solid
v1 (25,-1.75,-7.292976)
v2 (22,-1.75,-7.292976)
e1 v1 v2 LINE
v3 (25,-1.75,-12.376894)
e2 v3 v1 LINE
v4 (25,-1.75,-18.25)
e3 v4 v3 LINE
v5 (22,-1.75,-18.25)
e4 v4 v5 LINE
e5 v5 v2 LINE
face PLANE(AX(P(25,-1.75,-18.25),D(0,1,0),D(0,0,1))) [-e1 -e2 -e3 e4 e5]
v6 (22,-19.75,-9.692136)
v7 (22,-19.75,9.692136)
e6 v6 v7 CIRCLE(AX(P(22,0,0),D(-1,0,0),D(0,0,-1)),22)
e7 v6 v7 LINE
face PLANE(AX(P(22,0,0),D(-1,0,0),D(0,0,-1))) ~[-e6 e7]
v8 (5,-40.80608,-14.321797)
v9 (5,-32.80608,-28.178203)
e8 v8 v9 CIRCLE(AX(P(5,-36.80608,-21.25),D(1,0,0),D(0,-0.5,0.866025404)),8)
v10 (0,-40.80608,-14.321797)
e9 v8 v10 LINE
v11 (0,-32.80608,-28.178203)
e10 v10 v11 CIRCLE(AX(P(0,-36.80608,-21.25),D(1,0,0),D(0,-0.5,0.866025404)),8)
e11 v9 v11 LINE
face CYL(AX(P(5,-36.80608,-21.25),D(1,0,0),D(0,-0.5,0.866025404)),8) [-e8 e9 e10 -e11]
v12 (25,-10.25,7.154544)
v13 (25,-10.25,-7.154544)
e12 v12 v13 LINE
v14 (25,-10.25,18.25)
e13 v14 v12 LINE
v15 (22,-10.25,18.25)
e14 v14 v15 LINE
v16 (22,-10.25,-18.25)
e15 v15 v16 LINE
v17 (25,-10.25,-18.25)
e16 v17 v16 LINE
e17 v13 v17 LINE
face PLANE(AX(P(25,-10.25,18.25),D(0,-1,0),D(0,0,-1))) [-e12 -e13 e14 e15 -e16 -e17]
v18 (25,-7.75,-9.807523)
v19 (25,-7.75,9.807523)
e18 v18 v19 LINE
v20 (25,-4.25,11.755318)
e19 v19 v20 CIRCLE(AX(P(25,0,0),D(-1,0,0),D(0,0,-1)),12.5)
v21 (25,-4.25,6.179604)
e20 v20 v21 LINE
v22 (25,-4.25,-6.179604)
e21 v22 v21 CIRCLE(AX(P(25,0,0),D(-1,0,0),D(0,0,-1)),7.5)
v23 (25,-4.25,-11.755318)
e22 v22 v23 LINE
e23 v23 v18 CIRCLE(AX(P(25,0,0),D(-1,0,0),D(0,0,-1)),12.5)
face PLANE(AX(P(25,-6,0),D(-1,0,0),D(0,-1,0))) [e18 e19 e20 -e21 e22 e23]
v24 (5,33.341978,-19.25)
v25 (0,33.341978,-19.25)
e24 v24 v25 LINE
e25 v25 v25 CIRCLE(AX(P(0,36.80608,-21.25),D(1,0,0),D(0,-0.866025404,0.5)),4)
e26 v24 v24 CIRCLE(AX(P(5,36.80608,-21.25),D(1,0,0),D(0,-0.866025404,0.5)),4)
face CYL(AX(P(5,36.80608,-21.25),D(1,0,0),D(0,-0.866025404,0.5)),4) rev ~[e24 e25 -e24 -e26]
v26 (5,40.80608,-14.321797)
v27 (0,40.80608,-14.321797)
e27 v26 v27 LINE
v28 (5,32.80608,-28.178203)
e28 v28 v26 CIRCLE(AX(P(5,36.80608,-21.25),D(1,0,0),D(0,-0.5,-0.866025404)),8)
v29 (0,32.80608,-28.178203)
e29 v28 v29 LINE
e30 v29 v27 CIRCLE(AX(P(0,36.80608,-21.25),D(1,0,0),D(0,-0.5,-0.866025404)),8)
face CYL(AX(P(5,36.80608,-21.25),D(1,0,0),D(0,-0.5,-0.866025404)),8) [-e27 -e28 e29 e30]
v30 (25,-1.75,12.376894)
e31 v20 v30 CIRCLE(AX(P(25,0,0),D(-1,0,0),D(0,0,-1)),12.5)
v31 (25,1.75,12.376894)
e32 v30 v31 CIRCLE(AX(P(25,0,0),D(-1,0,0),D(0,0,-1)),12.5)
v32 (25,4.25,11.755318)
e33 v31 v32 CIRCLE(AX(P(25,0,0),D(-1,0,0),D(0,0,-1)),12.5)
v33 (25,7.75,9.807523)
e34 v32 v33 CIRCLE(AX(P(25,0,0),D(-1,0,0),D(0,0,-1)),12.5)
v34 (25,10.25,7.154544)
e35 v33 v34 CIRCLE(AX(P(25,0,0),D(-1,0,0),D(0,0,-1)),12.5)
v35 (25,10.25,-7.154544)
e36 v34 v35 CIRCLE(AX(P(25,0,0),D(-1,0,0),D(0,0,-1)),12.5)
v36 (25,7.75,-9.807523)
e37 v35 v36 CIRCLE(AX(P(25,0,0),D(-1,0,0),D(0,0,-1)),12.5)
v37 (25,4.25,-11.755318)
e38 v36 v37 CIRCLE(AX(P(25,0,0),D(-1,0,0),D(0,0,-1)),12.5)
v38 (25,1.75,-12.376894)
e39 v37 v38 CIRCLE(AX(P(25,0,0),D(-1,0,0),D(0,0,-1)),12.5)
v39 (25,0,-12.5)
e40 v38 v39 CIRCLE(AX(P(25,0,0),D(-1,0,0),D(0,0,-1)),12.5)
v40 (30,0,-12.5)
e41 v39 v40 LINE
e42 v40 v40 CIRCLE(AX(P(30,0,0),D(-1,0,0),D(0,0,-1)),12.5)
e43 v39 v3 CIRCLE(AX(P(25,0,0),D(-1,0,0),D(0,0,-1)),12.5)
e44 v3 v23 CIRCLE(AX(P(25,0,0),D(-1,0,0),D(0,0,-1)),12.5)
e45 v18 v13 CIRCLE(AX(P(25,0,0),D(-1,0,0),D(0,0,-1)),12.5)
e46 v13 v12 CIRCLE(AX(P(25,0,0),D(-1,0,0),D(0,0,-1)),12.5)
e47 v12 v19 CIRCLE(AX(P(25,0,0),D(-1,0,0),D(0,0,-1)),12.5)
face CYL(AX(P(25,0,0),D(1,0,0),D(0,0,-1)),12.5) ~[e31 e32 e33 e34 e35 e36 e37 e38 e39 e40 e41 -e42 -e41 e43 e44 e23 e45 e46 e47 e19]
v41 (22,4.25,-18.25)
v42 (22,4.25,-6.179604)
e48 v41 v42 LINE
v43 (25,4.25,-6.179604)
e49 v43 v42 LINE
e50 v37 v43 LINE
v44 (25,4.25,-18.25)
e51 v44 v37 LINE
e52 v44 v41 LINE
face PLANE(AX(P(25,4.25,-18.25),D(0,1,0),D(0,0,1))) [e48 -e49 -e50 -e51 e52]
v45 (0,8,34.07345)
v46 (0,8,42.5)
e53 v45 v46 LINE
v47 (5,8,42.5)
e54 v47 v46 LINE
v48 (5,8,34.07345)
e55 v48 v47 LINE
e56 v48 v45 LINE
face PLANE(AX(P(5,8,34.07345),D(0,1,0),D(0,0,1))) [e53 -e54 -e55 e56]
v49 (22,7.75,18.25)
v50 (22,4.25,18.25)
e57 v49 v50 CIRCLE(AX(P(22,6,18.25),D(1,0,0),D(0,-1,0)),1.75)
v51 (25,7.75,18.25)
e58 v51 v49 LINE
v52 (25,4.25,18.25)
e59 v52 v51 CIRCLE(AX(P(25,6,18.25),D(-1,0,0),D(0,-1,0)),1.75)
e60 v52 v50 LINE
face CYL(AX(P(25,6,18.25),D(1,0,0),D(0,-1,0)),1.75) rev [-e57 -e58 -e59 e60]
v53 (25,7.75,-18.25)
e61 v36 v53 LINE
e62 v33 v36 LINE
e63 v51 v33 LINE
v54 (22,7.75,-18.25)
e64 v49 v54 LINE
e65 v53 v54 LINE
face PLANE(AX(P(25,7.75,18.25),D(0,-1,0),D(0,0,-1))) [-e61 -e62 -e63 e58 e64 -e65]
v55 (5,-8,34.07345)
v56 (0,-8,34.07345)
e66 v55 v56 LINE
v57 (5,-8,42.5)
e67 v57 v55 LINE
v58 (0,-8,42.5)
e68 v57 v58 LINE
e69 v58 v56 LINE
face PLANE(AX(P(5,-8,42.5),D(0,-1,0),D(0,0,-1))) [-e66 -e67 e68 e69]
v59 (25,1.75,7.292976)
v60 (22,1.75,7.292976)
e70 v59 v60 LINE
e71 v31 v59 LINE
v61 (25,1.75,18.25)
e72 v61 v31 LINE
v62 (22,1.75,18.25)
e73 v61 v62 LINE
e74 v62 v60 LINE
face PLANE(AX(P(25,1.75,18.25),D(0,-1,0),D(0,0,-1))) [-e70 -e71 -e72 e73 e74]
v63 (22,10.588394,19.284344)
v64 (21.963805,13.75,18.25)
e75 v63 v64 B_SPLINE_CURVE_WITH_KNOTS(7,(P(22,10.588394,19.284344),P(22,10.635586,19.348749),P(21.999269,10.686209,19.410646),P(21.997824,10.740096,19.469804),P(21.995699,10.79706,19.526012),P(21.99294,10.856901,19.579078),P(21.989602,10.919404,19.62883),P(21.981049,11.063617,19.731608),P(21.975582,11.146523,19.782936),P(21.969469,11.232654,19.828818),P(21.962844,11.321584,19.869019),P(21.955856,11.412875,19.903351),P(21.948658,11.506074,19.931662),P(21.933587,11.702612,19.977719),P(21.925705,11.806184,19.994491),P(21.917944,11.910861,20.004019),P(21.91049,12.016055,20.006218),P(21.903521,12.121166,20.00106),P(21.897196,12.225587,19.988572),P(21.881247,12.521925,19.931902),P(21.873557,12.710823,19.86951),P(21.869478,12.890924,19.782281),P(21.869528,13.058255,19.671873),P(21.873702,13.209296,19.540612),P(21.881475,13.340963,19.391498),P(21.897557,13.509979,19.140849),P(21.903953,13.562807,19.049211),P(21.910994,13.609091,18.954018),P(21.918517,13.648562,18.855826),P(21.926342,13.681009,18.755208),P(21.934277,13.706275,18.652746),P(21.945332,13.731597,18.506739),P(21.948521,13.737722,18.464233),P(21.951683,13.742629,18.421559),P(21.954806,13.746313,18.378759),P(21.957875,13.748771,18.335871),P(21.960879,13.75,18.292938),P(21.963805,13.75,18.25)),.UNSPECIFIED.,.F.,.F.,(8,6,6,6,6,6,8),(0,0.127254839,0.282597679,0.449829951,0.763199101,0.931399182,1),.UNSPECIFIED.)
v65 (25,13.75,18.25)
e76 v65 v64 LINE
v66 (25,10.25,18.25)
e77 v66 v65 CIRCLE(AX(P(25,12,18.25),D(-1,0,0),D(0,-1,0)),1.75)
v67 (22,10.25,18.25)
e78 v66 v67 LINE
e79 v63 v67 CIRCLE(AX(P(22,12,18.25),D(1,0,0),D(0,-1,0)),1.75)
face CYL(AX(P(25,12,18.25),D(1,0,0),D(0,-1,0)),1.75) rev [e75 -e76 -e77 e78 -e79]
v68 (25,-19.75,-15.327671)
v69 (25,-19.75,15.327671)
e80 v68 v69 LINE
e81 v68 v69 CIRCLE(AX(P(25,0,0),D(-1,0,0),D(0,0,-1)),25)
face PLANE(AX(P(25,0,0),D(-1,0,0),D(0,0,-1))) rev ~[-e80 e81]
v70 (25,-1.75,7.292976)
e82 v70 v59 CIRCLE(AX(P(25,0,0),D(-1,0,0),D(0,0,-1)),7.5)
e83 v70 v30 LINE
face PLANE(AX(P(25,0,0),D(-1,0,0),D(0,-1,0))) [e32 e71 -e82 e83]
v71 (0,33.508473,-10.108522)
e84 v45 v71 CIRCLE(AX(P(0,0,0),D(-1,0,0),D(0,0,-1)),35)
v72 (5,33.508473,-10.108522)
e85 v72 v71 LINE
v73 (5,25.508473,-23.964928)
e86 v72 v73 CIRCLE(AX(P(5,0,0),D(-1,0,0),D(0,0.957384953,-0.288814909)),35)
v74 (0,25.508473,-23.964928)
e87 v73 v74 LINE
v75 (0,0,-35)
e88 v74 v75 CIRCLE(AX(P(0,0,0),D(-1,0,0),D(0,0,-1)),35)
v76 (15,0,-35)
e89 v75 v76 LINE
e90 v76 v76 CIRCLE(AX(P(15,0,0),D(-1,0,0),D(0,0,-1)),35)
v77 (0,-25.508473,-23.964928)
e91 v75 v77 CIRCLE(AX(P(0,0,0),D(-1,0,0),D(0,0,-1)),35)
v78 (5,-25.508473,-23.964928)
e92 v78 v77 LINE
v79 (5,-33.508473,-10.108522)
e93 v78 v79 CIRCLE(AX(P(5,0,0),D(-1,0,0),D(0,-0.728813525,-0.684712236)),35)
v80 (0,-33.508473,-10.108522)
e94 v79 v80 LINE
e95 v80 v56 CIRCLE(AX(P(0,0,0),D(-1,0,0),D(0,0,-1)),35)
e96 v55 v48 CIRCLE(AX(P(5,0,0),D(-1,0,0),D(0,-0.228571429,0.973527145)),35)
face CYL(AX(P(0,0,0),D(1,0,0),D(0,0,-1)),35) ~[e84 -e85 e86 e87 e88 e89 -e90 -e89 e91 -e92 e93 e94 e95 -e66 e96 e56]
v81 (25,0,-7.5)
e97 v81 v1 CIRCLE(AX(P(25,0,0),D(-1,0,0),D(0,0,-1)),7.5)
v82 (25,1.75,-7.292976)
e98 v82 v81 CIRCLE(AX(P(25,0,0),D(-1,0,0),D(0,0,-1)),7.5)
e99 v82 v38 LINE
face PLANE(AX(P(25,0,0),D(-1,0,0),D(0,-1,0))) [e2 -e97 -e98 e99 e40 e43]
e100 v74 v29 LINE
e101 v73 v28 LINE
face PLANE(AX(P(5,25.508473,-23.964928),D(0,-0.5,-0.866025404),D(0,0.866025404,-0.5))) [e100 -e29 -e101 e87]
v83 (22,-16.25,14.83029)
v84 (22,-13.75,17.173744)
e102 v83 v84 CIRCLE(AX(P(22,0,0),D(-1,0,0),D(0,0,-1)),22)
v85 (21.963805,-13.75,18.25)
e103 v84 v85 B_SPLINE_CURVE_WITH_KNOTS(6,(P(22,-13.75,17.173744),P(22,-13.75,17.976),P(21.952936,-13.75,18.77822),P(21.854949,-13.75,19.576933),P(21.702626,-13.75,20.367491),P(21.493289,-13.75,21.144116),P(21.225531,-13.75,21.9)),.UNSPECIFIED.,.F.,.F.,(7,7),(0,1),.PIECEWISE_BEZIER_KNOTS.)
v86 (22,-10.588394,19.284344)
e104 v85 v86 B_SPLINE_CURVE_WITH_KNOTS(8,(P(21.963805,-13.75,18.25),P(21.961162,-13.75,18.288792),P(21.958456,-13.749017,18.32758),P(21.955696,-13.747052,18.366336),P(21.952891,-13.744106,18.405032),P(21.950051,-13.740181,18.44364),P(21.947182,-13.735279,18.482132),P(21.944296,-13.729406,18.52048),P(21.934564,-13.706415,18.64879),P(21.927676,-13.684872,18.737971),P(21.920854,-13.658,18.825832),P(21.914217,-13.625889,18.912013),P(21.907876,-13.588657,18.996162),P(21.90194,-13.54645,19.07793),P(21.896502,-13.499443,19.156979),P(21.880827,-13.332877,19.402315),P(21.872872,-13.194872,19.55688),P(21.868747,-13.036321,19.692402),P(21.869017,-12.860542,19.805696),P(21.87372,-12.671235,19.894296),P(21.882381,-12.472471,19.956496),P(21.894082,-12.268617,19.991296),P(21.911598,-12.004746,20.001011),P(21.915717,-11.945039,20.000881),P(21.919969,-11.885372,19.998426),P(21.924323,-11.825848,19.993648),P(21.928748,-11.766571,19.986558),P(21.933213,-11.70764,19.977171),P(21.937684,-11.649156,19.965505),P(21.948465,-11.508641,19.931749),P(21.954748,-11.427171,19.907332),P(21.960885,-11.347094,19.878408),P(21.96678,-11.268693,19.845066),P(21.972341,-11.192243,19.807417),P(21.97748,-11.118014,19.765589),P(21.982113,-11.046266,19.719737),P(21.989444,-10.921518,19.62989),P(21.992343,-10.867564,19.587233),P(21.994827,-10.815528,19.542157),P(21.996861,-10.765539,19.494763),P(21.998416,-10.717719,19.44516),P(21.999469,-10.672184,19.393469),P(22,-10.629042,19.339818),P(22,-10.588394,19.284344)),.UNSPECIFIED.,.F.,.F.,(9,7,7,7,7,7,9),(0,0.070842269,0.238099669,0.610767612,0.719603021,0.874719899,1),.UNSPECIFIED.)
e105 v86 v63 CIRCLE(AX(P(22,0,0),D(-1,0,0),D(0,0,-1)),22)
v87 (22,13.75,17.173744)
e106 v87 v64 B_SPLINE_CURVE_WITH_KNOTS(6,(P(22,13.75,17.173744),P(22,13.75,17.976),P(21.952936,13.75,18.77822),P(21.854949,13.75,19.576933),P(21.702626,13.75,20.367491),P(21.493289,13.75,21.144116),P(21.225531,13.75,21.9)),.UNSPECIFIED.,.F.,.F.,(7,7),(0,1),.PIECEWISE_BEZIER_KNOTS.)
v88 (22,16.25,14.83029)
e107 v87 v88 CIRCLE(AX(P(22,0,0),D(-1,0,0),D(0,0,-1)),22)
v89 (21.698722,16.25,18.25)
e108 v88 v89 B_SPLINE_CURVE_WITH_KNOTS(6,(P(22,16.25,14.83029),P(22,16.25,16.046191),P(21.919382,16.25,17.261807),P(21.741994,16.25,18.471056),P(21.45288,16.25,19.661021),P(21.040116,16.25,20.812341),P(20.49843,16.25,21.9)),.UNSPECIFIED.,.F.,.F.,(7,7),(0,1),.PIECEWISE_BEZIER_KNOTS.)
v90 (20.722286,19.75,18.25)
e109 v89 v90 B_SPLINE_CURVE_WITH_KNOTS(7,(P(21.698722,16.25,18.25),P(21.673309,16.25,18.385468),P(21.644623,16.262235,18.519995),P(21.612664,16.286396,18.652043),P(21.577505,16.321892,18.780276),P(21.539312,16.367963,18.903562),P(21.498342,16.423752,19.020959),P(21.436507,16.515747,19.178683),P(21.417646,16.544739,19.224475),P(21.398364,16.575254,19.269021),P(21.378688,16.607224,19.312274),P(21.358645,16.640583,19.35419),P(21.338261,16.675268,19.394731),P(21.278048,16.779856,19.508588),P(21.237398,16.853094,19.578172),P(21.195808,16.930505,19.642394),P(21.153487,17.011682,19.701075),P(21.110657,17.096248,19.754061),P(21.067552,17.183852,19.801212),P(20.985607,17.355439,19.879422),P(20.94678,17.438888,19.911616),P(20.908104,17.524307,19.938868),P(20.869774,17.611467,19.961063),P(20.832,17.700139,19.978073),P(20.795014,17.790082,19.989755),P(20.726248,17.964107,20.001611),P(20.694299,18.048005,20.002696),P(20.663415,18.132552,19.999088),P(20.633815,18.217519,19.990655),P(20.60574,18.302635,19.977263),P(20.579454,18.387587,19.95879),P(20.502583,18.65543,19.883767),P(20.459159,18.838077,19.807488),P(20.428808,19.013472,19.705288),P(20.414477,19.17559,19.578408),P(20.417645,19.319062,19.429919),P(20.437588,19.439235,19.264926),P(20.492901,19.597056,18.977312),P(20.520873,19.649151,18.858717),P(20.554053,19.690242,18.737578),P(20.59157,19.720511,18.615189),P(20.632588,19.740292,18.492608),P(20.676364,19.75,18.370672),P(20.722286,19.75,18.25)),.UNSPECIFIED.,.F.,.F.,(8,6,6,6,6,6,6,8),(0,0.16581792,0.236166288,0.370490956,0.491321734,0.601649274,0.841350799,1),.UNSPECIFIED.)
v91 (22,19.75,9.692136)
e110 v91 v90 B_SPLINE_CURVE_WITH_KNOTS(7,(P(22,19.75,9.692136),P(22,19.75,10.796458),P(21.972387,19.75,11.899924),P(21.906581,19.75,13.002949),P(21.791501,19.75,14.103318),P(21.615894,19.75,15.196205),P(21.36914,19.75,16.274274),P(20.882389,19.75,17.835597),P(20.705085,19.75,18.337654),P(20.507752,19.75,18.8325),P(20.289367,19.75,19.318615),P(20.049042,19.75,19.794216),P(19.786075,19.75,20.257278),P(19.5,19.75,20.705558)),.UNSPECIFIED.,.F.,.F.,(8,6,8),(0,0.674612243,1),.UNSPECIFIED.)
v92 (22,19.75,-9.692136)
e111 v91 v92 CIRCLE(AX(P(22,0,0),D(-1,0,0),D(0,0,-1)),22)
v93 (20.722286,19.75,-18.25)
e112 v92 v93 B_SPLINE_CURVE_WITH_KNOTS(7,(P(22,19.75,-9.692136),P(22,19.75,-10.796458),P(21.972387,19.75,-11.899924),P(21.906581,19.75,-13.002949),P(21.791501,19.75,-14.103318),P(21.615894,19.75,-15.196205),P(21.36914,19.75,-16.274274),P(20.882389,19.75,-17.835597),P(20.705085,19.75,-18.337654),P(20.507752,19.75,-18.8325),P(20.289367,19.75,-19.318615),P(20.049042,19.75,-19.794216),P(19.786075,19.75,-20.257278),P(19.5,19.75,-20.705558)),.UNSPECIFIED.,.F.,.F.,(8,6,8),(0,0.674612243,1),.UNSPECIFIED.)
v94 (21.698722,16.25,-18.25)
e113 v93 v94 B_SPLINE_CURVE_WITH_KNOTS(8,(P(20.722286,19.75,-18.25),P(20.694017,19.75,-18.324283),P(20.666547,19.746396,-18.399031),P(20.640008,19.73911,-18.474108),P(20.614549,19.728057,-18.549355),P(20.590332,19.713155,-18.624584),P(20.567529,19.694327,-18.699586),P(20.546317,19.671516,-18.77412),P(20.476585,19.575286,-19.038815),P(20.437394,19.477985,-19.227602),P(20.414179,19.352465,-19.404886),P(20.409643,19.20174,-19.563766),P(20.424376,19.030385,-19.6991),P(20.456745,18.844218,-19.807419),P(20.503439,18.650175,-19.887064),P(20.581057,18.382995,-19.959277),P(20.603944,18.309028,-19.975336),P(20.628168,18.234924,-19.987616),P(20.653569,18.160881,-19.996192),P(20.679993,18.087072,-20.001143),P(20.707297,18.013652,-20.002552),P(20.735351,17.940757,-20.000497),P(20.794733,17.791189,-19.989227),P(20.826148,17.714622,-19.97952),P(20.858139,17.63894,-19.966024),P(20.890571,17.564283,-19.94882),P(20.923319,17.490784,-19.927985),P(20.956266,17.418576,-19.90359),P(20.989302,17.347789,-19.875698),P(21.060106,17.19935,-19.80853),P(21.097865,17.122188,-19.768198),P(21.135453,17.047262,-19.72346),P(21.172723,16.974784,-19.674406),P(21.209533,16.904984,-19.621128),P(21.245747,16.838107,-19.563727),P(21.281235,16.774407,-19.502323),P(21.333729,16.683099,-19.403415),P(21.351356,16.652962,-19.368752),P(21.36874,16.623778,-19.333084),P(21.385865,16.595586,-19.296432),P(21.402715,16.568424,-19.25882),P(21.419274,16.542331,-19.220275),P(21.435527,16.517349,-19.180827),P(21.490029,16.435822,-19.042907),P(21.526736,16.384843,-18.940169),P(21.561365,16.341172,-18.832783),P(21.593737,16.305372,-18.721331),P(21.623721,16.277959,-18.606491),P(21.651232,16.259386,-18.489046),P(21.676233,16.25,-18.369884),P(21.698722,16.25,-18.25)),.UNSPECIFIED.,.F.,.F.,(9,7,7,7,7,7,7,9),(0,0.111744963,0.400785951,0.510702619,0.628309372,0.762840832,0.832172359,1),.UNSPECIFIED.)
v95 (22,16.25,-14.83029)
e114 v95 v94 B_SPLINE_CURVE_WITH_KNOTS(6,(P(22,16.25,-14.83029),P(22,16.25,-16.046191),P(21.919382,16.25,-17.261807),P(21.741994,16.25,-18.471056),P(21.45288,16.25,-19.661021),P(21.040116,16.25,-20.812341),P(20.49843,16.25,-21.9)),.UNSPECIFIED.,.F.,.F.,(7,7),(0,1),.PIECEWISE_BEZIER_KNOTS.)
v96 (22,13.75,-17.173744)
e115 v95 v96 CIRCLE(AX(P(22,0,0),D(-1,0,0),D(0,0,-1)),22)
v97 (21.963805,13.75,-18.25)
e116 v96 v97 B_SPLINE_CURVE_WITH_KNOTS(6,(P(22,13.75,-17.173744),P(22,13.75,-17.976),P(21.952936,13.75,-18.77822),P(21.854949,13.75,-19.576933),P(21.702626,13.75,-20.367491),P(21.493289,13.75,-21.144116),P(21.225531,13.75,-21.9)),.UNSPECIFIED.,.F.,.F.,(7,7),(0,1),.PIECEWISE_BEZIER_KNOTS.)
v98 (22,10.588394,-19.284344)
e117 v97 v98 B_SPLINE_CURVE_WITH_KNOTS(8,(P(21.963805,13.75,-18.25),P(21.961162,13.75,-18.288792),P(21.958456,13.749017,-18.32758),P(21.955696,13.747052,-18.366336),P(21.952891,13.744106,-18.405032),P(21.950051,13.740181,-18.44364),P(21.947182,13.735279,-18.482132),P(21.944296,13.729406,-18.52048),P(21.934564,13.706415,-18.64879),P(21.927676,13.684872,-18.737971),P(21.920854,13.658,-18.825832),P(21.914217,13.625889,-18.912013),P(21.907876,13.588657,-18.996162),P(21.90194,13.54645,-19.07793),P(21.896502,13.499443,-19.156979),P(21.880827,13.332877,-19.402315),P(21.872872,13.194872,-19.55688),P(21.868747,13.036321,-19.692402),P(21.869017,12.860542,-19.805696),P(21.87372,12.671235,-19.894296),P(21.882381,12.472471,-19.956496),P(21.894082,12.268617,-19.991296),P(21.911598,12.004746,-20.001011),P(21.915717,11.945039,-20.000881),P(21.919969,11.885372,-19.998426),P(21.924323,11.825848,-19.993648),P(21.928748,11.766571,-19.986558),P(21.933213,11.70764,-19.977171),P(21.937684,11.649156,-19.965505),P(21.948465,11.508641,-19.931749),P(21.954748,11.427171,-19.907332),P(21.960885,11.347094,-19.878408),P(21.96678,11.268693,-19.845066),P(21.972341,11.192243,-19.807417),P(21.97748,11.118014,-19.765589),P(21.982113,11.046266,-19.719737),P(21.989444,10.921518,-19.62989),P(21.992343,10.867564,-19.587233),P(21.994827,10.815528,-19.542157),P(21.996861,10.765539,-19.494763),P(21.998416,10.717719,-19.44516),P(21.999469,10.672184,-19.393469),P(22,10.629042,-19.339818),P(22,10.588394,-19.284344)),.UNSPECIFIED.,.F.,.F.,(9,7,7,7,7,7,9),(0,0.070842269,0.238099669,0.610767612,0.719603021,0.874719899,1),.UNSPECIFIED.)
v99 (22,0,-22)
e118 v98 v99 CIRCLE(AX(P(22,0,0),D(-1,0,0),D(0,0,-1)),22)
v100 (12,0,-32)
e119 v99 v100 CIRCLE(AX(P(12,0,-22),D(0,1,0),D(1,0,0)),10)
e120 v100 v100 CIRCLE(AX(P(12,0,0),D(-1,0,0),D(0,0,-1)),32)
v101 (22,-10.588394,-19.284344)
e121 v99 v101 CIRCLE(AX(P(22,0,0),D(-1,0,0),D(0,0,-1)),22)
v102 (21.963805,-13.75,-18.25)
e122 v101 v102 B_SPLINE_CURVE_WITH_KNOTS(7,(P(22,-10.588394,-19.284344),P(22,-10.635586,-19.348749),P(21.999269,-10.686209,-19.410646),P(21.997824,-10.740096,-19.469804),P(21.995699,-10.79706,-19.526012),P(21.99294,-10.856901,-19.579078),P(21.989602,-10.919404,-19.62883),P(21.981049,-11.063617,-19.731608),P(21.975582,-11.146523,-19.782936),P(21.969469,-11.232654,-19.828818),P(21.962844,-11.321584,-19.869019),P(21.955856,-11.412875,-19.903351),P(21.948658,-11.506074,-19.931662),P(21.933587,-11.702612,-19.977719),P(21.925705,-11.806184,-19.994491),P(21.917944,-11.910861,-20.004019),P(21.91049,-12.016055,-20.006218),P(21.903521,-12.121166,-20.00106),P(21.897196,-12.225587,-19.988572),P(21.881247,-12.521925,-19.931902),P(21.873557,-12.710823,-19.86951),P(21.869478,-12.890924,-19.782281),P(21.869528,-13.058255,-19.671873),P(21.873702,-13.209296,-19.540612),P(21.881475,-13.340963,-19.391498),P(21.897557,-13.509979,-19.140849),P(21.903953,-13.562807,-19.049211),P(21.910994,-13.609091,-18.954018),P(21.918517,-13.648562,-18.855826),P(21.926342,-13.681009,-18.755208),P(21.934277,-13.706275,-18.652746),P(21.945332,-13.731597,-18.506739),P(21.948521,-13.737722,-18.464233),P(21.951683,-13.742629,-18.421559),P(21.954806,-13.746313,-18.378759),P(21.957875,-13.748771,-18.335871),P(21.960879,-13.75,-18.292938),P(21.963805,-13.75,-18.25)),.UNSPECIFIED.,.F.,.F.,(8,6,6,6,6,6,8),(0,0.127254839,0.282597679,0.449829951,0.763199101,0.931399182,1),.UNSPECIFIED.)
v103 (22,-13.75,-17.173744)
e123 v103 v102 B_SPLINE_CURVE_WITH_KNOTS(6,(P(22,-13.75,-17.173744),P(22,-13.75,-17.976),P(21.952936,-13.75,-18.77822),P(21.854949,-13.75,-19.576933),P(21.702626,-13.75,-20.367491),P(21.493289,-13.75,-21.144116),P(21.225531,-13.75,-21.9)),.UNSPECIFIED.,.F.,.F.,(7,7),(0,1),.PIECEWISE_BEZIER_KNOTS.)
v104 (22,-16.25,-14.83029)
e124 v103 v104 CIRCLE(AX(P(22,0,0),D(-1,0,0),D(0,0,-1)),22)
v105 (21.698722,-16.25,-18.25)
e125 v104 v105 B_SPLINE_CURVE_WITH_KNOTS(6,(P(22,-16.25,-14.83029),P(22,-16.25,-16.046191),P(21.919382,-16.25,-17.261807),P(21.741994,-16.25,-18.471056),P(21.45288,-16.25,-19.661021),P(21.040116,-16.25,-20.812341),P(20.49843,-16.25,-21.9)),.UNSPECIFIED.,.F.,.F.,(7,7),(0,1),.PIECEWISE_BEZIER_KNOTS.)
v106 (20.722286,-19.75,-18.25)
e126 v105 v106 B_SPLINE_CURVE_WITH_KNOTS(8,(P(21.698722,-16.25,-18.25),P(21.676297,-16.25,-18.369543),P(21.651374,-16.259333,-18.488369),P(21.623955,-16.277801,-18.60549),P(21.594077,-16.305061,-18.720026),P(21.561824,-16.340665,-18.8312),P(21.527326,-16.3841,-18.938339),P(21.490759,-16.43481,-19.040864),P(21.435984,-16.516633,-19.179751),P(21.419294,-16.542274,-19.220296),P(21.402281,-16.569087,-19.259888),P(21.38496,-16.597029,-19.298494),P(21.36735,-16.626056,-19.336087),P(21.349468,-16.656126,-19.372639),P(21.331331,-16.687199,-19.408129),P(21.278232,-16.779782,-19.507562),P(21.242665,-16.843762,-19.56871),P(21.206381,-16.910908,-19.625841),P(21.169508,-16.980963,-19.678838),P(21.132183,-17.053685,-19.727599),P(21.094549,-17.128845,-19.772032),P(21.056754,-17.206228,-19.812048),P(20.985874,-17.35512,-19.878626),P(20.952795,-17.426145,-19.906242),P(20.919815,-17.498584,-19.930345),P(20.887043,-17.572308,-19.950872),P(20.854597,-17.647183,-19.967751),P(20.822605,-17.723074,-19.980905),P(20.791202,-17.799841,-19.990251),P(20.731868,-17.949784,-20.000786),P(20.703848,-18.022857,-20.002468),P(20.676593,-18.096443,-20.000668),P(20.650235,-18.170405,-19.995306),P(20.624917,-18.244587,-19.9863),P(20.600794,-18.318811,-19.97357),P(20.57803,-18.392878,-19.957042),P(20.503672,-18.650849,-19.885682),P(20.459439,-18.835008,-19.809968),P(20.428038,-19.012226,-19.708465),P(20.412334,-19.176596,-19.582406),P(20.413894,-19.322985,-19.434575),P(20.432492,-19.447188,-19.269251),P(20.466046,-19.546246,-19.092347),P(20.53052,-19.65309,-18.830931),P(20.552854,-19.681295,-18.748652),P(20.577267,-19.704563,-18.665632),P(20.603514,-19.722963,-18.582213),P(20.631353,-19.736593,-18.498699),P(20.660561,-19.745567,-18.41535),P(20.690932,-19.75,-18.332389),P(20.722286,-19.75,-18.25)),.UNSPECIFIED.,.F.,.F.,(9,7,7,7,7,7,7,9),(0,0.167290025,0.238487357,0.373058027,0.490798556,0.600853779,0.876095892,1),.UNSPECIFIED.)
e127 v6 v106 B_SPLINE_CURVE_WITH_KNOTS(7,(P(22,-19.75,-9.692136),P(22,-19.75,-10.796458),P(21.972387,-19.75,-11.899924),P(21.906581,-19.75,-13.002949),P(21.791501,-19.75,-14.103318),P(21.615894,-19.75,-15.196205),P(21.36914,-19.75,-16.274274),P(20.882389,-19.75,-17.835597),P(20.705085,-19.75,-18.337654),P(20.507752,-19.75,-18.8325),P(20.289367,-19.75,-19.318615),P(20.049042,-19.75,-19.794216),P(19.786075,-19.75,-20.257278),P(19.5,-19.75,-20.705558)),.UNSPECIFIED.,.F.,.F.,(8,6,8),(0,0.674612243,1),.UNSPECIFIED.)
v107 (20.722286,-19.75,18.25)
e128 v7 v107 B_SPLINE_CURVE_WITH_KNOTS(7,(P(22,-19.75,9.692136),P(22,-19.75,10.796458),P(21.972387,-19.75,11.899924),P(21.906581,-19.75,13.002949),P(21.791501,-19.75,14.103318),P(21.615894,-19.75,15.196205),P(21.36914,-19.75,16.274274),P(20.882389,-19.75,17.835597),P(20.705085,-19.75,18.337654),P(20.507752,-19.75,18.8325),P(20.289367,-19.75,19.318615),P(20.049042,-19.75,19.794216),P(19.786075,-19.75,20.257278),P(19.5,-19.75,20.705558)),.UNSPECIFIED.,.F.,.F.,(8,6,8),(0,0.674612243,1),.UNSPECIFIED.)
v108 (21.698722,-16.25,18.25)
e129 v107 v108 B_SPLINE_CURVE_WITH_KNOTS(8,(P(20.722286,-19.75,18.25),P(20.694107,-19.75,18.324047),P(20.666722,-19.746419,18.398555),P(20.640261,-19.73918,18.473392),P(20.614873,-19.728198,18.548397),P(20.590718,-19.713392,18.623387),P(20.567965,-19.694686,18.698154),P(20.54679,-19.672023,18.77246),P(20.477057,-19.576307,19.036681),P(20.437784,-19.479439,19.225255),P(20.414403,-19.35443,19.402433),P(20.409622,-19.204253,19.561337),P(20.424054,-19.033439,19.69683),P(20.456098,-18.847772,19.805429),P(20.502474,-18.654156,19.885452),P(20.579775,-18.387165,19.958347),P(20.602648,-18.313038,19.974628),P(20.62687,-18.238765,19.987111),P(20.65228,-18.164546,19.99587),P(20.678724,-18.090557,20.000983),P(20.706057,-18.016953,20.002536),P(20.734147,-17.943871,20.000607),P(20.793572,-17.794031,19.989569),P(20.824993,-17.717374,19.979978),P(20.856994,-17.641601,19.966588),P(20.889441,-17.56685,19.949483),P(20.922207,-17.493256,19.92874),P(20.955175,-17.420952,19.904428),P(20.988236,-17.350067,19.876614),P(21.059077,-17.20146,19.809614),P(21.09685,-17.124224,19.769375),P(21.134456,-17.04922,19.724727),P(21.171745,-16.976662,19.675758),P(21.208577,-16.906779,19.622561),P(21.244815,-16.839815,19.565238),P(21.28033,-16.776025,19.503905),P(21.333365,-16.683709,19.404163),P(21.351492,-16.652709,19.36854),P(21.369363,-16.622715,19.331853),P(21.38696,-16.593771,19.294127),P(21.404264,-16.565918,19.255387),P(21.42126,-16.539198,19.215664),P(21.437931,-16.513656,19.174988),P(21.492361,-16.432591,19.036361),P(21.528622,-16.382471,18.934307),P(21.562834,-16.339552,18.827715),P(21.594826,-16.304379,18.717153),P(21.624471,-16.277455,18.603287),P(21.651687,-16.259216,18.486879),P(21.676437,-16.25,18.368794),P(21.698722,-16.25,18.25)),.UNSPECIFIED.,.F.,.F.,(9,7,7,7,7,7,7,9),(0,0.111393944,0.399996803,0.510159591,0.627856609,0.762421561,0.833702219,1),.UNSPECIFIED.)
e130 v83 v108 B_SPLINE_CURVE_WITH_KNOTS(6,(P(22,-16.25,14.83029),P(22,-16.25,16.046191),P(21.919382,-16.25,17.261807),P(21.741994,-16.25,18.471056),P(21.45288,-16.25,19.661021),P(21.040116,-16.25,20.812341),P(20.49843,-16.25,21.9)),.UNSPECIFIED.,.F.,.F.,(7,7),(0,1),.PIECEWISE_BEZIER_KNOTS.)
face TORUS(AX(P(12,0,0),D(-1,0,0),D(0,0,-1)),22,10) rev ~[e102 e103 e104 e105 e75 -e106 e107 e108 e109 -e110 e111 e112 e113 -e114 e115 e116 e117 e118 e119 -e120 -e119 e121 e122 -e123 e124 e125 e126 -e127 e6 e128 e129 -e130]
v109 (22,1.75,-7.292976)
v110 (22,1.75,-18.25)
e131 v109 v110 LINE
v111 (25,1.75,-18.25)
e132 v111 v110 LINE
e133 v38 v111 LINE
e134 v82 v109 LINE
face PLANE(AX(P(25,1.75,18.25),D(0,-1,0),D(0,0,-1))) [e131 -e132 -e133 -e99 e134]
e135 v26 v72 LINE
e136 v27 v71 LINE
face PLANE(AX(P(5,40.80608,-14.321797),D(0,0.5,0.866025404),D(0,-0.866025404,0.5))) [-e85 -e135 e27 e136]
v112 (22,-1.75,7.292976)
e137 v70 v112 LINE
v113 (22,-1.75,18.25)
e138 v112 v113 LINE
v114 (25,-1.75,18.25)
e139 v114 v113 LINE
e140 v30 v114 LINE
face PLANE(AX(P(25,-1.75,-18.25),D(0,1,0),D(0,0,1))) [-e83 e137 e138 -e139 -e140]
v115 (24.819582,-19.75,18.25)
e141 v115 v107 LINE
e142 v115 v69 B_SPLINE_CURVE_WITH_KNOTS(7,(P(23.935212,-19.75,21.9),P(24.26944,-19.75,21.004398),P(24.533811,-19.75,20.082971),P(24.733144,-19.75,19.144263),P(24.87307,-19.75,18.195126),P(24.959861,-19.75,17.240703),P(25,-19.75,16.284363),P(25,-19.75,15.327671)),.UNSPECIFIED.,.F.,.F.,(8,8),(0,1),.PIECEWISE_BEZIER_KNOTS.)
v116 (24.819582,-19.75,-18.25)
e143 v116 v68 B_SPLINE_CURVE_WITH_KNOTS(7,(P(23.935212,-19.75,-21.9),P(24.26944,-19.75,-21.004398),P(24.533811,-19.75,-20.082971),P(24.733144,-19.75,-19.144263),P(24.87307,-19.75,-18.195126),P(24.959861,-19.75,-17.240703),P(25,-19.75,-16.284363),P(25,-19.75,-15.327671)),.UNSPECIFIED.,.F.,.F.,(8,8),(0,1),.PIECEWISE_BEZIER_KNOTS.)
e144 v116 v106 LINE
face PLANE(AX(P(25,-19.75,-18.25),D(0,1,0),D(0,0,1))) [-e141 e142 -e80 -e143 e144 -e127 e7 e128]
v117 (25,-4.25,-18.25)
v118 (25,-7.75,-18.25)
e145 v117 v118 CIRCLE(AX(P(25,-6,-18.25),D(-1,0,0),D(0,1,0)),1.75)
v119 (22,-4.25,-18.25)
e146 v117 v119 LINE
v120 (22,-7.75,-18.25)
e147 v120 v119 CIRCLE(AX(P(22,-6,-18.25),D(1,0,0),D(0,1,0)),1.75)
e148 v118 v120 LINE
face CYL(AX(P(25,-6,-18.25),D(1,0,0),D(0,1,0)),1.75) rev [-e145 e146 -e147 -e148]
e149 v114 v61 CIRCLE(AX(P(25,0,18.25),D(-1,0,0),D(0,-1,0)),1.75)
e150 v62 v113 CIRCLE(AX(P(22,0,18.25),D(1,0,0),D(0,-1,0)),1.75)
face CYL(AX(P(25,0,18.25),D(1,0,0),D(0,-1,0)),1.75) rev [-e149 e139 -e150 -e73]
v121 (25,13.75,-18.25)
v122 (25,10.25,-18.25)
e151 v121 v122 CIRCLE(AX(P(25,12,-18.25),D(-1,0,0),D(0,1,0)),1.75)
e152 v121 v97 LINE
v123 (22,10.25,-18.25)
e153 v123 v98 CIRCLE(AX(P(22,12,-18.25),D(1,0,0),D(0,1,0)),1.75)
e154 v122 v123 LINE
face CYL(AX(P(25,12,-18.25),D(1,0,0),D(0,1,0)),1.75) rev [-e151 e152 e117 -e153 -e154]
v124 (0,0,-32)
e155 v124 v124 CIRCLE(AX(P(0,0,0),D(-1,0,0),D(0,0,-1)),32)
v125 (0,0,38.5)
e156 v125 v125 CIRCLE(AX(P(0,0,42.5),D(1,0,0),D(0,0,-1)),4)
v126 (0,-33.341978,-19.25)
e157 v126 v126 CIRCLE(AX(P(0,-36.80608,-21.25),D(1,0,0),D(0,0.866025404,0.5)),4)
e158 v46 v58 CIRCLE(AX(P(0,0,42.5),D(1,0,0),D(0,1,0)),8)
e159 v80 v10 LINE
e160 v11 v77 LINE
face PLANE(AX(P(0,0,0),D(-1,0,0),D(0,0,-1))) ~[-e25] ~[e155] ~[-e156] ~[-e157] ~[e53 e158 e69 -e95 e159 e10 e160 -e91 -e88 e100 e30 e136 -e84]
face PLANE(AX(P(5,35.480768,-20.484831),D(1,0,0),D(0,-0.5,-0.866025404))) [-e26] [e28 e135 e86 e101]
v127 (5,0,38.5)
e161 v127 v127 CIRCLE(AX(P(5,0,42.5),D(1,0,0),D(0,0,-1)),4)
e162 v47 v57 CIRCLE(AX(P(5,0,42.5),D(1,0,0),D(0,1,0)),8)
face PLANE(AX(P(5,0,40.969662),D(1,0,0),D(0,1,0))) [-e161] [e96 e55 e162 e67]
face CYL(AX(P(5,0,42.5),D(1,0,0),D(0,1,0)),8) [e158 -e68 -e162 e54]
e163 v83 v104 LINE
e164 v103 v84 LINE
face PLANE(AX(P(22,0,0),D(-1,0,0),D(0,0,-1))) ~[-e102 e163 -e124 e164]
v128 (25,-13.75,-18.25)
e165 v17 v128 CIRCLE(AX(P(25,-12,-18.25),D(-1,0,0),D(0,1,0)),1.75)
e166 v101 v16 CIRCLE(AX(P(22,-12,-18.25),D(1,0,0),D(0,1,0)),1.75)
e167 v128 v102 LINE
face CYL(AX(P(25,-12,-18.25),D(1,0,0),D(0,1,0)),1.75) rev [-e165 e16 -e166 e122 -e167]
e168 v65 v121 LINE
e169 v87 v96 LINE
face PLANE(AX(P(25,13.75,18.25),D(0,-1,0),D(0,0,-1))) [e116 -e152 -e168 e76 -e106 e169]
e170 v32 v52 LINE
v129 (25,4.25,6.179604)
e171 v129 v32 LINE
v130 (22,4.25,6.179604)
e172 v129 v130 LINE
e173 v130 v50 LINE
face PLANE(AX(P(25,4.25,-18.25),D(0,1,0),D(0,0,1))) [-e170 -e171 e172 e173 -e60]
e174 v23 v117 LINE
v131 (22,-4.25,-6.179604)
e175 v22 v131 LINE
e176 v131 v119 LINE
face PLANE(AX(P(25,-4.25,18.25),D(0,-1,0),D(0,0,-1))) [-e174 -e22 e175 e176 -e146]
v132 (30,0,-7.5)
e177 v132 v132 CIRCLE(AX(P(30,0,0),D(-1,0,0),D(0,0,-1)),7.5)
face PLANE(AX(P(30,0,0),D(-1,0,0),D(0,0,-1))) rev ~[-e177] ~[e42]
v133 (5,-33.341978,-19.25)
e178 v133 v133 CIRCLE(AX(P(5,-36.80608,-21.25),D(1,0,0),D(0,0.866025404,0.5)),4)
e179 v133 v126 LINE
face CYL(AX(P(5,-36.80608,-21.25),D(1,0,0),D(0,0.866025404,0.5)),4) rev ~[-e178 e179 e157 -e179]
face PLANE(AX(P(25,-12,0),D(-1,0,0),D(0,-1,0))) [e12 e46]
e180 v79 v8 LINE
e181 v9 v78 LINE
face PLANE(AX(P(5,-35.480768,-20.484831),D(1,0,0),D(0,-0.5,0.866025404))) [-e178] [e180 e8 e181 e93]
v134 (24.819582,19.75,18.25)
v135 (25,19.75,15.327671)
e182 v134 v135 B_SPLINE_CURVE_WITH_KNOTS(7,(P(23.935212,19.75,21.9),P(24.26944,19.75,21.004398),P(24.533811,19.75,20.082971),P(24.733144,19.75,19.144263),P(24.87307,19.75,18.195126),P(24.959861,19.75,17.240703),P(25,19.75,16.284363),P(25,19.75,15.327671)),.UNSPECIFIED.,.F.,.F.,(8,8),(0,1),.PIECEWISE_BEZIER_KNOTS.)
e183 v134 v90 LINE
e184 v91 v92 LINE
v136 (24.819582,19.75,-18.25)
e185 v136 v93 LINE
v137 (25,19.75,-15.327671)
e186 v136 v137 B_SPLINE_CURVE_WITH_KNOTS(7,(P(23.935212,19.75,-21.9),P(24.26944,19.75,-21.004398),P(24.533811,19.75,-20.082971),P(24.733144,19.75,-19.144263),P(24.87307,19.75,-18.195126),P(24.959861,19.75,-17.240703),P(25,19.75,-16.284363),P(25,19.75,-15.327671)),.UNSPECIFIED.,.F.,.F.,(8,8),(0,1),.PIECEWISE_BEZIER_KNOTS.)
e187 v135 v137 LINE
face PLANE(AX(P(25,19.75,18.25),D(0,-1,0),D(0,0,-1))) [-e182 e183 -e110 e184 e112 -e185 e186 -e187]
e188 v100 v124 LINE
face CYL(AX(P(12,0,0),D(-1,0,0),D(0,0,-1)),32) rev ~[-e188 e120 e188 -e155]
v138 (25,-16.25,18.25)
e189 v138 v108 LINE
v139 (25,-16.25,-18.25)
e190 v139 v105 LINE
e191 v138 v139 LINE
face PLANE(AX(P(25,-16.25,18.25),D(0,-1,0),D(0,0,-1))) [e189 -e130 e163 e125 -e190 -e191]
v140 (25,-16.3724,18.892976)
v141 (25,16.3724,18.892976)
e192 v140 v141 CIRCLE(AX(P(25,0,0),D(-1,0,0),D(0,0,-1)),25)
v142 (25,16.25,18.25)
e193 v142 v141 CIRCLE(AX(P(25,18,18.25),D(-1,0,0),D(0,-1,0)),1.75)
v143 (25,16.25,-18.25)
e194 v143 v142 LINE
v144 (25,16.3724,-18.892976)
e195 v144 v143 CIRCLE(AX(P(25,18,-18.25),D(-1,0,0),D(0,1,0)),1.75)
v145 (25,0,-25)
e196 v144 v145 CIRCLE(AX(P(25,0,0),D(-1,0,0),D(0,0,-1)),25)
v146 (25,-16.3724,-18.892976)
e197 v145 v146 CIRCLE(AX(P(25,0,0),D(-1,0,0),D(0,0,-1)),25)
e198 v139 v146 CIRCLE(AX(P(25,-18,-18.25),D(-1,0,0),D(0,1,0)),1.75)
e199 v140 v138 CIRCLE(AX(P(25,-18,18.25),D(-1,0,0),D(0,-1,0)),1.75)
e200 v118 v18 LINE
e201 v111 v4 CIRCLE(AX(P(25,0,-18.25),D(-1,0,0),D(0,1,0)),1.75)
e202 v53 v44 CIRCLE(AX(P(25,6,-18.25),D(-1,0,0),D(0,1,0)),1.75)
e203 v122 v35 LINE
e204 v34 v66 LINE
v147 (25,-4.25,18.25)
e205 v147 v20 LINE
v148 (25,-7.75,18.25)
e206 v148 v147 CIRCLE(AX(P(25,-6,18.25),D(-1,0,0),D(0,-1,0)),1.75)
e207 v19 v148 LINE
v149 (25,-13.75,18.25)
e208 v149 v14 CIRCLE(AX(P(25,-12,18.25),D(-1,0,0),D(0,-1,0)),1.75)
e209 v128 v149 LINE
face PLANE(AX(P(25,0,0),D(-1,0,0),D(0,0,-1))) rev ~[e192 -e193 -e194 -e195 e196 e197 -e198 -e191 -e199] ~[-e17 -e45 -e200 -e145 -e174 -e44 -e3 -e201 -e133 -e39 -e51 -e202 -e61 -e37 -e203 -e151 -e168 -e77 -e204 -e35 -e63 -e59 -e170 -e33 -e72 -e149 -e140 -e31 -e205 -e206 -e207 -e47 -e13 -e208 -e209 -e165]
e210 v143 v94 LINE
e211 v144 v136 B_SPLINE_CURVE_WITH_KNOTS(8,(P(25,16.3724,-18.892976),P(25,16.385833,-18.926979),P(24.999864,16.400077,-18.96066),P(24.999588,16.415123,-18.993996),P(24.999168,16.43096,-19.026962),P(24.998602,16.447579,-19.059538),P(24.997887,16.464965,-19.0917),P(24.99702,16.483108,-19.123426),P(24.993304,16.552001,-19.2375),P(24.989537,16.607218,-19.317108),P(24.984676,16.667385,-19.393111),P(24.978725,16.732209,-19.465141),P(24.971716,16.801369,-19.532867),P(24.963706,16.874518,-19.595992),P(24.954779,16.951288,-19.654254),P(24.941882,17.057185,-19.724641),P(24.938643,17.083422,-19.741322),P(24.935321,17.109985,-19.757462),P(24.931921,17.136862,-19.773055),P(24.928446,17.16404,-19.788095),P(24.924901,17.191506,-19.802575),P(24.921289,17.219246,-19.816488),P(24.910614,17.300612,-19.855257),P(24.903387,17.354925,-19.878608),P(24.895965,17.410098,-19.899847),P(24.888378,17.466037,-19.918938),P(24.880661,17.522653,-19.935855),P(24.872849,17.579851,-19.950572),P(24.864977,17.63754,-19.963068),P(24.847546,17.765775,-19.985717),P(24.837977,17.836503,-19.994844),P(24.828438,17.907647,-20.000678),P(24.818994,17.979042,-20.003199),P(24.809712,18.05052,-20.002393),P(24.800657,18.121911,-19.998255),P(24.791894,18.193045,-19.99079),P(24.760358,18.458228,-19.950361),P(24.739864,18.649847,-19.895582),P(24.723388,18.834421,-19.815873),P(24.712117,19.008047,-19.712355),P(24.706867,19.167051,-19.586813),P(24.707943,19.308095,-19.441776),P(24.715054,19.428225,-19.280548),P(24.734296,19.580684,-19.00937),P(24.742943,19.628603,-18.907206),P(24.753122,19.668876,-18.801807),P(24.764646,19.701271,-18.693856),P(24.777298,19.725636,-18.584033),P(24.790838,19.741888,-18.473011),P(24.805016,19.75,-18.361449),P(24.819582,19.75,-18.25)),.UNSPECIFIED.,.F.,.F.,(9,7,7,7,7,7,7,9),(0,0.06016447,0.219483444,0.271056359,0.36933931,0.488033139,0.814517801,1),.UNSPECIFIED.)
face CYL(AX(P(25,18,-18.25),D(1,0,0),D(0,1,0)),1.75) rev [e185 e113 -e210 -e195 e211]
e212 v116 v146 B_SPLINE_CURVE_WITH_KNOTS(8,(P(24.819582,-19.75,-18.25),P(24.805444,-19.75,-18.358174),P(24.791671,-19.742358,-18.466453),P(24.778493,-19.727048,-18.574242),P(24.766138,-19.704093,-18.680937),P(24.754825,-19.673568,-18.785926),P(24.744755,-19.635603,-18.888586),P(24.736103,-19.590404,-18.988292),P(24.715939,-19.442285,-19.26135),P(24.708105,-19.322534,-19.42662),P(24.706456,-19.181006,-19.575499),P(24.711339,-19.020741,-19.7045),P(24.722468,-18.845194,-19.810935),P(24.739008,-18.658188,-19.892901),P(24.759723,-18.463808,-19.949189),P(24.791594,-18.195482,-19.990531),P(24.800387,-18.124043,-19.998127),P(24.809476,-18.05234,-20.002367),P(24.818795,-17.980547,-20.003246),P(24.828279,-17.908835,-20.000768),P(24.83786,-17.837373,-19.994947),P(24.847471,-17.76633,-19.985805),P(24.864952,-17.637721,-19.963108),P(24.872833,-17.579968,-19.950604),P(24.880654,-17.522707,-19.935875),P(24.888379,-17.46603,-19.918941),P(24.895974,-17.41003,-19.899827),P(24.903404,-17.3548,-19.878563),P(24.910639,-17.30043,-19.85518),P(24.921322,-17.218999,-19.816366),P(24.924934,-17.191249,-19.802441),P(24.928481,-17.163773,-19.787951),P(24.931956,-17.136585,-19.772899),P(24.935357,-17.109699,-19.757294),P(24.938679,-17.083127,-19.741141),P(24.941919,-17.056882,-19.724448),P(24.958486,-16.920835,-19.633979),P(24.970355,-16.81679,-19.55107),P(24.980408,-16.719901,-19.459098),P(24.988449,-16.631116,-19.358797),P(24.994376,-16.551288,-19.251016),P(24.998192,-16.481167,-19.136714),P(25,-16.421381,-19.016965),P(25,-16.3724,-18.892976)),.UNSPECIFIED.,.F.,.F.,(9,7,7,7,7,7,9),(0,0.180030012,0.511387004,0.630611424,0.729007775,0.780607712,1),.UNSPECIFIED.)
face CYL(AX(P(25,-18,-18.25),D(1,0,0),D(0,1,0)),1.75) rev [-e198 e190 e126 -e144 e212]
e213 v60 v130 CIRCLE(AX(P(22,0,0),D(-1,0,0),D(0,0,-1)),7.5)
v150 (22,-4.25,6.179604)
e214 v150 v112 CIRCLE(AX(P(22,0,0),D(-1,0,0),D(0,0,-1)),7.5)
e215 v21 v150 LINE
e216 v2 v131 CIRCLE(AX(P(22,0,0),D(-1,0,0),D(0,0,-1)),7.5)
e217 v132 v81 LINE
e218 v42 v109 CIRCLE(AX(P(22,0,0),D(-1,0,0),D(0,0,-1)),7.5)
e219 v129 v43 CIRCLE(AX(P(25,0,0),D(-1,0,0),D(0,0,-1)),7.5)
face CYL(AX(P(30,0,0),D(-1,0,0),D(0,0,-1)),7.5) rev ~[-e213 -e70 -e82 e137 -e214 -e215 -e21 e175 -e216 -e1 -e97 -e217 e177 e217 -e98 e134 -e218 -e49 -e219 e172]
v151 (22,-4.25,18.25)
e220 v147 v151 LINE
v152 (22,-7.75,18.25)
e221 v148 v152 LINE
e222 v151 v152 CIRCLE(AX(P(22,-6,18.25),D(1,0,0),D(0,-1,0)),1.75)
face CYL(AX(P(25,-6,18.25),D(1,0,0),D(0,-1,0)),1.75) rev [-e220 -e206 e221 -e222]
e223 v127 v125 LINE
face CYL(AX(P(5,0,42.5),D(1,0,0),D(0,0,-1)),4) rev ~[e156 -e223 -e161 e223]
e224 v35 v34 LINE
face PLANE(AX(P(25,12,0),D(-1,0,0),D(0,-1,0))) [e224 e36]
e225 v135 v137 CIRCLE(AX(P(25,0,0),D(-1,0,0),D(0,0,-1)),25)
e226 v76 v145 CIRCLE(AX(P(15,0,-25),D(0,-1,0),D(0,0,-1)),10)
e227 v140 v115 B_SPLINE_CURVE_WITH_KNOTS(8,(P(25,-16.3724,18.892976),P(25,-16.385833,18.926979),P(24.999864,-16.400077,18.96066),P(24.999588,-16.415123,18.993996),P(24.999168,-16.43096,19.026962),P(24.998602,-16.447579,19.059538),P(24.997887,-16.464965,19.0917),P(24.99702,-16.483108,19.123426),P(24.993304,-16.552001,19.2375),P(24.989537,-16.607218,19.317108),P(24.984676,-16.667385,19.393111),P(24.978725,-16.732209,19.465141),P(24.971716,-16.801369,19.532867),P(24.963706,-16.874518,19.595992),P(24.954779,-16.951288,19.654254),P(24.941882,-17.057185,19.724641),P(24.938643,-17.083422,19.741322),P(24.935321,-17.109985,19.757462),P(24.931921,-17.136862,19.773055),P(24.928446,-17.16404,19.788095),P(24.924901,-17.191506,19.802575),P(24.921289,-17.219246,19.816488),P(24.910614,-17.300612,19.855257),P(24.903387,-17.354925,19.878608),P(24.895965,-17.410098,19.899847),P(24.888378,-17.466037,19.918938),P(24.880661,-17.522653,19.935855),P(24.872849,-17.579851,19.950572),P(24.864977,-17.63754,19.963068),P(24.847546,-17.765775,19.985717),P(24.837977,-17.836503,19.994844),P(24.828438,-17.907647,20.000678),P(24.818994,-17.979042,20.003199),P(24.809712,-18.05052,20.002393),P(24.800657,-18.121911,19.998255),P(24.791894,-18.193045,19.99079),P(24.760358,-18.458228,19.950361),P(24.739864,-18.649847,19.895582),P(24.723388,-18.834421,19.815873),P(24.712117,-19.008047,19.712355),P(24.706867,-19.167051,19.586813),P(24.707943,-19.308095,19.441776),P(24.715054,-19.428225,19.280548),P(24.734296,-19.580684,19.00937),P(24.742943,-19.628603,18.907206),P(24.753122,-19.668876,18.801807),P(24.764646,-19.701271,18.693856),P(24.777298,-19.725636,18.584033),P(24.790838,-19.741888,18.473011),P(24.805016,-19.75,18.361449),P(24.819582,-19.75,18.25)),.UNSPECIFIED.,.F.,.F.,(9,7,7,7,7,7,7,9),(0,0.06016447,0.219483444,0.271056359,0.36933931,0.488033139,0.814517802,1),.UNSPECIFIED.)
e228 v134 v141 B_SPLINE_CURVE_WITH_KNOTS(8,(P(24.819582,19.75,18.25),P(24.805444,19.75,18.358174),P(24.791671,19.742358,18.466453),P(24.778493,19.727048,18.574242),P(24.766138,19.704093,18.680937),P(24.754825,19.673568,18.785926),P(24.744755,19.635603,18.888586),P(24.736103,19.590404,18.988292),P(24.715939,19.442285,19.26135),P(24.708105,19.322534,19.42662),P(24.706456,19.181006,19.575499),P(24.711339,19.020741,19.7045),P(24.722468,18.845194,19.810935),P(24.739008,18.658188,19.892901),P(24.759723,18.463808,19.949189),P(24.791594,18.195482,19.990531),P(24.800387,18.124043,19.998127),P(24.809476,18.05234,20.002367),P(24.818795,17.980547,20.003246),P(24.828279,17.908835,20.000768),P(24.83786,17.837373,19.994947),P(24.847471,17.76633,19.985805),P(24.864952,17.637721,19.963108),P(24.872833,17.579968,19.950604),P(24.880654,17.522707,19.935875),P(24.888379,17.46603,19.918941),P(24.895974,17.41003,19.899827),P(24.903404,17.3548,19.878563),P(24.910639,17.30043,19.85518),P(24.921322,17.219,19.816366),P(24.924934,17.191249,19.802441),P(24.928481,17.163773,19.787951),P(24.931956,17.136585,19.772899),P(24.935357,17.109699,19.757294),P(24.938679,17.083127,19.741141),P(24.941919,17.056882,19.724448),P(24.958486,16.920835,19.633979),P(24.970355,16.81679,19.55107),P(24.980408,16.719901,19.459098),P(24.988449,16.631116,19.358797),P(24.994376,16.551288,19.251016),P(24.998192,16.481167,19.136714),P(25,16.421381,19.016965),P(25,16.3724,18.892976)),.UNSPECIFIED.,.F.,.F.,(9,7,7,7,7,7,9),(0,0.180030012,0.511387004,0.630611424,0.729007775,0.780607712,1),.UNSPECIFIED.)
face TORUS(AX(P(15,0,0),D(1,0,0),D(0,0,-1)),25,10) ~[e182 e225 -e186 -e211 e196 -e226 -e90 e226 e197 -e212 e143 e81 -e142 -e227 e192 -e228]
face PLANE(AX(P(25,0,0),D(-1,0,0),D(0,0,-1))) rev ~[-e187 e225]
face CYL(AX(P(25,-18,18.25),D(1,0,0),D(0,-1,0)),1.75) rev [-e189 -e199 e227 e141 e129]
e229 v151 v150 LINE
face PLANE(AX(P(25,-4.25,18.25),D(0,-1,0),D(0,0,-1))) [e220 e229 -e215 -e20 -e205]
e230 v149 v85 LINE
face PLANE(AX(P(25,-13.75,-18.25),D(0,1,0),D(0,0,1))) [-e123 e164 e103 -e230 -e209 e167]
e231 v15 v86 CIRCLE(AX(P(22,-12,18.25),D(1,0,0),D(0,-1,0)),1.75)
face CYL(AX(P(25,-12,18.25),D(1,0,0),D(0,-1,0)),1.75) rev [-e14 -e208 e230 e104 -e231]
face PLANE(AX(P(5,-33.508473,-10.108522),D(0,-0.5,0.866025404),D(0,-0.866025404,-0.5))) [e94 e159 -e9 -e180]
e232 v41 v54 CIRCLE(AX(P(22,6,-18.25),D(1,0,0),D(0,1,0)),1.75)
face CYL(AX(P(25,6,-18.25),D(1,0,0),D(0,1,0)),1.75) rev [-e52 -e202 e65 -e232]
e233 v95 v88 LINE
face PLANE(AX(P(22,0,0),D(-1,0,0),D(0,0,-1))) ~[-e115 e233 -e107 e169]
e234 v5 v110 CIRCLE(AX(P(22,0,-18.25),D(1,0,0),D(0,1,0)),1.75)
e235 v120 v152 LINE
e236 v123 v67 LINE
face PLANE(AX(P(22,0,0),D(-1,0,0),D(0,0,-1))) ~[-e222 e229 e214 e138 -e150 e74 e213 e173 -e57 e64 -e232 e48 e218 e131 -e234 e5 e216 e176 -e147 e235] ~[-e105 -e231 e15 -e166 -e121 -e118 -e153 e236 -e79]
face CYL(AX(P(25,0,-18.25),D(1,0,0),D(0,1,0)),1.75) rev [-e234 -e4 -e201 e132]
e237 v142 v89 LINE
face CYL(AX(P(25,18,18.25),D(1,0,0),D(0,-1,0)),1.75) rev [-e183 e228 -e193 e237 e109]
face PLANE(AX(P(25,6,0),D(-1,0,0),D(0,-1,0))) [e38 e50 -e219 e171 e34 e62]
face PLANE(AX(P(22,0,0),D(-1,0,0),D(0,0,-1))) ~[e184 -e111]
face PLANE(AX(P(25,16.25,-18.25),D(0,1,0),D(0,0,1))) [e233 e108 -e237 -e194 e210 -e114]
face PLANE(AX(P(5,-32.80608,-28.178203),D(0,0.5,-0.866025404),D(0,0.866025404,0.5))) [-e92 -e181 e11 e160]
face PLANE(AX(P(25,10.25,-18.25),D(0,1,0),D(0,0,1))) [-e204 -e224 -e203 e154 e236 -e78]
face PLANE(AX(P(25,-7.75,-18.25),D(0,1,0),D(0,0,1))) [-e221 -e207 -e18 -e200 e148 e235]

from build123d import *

# Parameters (mm, degrees)
BOSS_EXTRUDE1_START = 5
SKETCH3_R           = 4
BOSS_EXTRUDE1_DEPTH = 5
CIRPATTERN1_COUNT   = 3
CUT_EXTRUDE1_DEPTH  = 5


with BuildPart() as part:
    # Sketch2 → Revolve1 (revolve)
    with BuildSketch(Plane(origin=(0, 0, 0), x_dir=(-1, 0, 0), z_dir=(0, 1, 0)), mode=Mode.PRIVATE) as revolve1_sk:
        with BuildLine():
            Line((-12, 32), (0, 32))
            Line((0, 32), (0, 35))
            Line((0, 35), (-15, 35))
            ThreePointArc((-15, 35), (-22.071067812, 32.071067812), (-25, 25))
            Line((-25, 25), (-25, 12.5))
            Line((-25, 12.5), (-22, 12.5))
            Line((-22, 12.5), (-22, 22))
            ThreePointArc((-22, 22), (-19.071067812, 29.071067812), (-12, 32))
        make_face()
        Polygon((-22, 7.5), (-22, 12.5), (-25, 12.5), (-30, 12.5), (-30, 7.5), align=None)
    revolve(revolve1_sk.sketch.rotate(Axis((0, 0, 0), (-1, 0, 0)), 180), axis=Axis((0, 0, 0), (-1, 0, 0)))

    # Sketch3 → Boss-Extrude1 (add)
    with BuildSketch(Plane.YZ.offset(BOSS_EXTRUDE1_START)):
        with BuildLine():
            Line((8, 34.073450075), (8, 42.5))
            ThreePointArc((8, 42.5), (0, 50.5), (-8, 42.5))
            Line((-8, 42.5), (-8, 34.073450075))
            ThreePointArc((-8, 34.073450075), (0, 35), (8, 34.073450075))
        make_face()
        with Locations(Location((0, 42.5, 0), (0, 0, 270))):
            Circle(SKETCH3_R, mode=Mode.SUBTRACT)
    boss_extrude1 = extrude(amount=-BOSS_EXTRUDE1_DEPTH)

    # CirPattern1: Boss-Extrude1 ×3 about axis
    cirpattern1_axis = Axis((0, 0, 0), (1, 0, 0))
    for i in range(1, CIRPATTERN1_COUNT):
        add(boss_extrude1.rotate(cirpattern1_axis, i * 360 / CIRPATTERN1_COUNT))

    # Sketch4 → Cut-Extrude1 (cut)
    with BuildSketch(Plane.YZ.offset(25)):
        with BuildLine():
            Line((1.75, 18.25), (1.75, -18.25))
            ThreePointArc((1.75, -18.25), (0, -20), (-1.75, -18.25))
            Line((-1.75, -18.25), (-1.75, 18.25))
            ThreePointArc((-1.75, 18.25), (0, 20), (1.75, 18.25))
        make_face()
        with BuildLine():
            Line((7.75, 18.25), (7.75, -18.25))
            ThreePointArc((7.75, -18.25), (6, -20), (4.25, -18.25))
            Line((4.25, -18.25), (4.25, 18.25))
            ThreePointArc((4.25, 18.25), (6, 20), (7.75, 18.25))
        make_face()
        with BuildLine():
            Line((13.75, 18.25), (13.75, -18.25))
            ThreePointArc((13.75, -18.25), (12, -20), (10.25, -18.25))
            Line((10.25, -18.25), (10.25, 18.25))
            ThreePointArc((10.25, 18.25), (12, 20), (13.75, 18.25))
        make_face()
        with BuildLine():
            Line((19.75, 18.25), (19.75, -18.25))
            ThreePointArc((19.75, -18.25), (18, -20), (16.25, -18.25))
            Line((16.25, -18.25), (16.25, 18.25))
            ThreePointArc((16.25, 18.25), (18, 20), (19.75, 18.25))
        make_face()
        with BuildLine():
            Line((-4.25, 18.25), (-4.25, -18.25))
            ThreePointArc((-4.25, -18.25), (-6, -20), (-7.75, -18.25))
            Line((-7.75, -18.25), (-7.75, 18.25))
            ThreePointArc((-7.75, 18.25), (-6, 20), (-4.25, 18.25))
        make_face()
        with BuildLine():
            Line((-10.25, 18.25), (-10.25, -18.25))
            ThreePointArc((-10.25, -18.25), (-12, -20), (-13.75, -18.25))
            Line((-13.75, -18.25), (-13.75, 18.25))
            ThreePointArc((-13.75, 18.25), (-12, 20), (-10.25, 18.25))
        make_face()
        with BuildLine():
            Line((-16.25, 18.25), (-16.25, -18.25))
            ThreePointArc((-16.25, -18.25), (-18, -20), (-19.75, -18.25))
            Line((-19.75, -18.25), (-19.75, 18.25))
            ThreePointArc((-19.75, 18.25), (-18, 20), (-16.25, 18.25))
        make_face()
    extrude(amount=-CUT_EXTRUDE1_DEPTH, mode=Mode.SUBTRACT)


solid = part.part
